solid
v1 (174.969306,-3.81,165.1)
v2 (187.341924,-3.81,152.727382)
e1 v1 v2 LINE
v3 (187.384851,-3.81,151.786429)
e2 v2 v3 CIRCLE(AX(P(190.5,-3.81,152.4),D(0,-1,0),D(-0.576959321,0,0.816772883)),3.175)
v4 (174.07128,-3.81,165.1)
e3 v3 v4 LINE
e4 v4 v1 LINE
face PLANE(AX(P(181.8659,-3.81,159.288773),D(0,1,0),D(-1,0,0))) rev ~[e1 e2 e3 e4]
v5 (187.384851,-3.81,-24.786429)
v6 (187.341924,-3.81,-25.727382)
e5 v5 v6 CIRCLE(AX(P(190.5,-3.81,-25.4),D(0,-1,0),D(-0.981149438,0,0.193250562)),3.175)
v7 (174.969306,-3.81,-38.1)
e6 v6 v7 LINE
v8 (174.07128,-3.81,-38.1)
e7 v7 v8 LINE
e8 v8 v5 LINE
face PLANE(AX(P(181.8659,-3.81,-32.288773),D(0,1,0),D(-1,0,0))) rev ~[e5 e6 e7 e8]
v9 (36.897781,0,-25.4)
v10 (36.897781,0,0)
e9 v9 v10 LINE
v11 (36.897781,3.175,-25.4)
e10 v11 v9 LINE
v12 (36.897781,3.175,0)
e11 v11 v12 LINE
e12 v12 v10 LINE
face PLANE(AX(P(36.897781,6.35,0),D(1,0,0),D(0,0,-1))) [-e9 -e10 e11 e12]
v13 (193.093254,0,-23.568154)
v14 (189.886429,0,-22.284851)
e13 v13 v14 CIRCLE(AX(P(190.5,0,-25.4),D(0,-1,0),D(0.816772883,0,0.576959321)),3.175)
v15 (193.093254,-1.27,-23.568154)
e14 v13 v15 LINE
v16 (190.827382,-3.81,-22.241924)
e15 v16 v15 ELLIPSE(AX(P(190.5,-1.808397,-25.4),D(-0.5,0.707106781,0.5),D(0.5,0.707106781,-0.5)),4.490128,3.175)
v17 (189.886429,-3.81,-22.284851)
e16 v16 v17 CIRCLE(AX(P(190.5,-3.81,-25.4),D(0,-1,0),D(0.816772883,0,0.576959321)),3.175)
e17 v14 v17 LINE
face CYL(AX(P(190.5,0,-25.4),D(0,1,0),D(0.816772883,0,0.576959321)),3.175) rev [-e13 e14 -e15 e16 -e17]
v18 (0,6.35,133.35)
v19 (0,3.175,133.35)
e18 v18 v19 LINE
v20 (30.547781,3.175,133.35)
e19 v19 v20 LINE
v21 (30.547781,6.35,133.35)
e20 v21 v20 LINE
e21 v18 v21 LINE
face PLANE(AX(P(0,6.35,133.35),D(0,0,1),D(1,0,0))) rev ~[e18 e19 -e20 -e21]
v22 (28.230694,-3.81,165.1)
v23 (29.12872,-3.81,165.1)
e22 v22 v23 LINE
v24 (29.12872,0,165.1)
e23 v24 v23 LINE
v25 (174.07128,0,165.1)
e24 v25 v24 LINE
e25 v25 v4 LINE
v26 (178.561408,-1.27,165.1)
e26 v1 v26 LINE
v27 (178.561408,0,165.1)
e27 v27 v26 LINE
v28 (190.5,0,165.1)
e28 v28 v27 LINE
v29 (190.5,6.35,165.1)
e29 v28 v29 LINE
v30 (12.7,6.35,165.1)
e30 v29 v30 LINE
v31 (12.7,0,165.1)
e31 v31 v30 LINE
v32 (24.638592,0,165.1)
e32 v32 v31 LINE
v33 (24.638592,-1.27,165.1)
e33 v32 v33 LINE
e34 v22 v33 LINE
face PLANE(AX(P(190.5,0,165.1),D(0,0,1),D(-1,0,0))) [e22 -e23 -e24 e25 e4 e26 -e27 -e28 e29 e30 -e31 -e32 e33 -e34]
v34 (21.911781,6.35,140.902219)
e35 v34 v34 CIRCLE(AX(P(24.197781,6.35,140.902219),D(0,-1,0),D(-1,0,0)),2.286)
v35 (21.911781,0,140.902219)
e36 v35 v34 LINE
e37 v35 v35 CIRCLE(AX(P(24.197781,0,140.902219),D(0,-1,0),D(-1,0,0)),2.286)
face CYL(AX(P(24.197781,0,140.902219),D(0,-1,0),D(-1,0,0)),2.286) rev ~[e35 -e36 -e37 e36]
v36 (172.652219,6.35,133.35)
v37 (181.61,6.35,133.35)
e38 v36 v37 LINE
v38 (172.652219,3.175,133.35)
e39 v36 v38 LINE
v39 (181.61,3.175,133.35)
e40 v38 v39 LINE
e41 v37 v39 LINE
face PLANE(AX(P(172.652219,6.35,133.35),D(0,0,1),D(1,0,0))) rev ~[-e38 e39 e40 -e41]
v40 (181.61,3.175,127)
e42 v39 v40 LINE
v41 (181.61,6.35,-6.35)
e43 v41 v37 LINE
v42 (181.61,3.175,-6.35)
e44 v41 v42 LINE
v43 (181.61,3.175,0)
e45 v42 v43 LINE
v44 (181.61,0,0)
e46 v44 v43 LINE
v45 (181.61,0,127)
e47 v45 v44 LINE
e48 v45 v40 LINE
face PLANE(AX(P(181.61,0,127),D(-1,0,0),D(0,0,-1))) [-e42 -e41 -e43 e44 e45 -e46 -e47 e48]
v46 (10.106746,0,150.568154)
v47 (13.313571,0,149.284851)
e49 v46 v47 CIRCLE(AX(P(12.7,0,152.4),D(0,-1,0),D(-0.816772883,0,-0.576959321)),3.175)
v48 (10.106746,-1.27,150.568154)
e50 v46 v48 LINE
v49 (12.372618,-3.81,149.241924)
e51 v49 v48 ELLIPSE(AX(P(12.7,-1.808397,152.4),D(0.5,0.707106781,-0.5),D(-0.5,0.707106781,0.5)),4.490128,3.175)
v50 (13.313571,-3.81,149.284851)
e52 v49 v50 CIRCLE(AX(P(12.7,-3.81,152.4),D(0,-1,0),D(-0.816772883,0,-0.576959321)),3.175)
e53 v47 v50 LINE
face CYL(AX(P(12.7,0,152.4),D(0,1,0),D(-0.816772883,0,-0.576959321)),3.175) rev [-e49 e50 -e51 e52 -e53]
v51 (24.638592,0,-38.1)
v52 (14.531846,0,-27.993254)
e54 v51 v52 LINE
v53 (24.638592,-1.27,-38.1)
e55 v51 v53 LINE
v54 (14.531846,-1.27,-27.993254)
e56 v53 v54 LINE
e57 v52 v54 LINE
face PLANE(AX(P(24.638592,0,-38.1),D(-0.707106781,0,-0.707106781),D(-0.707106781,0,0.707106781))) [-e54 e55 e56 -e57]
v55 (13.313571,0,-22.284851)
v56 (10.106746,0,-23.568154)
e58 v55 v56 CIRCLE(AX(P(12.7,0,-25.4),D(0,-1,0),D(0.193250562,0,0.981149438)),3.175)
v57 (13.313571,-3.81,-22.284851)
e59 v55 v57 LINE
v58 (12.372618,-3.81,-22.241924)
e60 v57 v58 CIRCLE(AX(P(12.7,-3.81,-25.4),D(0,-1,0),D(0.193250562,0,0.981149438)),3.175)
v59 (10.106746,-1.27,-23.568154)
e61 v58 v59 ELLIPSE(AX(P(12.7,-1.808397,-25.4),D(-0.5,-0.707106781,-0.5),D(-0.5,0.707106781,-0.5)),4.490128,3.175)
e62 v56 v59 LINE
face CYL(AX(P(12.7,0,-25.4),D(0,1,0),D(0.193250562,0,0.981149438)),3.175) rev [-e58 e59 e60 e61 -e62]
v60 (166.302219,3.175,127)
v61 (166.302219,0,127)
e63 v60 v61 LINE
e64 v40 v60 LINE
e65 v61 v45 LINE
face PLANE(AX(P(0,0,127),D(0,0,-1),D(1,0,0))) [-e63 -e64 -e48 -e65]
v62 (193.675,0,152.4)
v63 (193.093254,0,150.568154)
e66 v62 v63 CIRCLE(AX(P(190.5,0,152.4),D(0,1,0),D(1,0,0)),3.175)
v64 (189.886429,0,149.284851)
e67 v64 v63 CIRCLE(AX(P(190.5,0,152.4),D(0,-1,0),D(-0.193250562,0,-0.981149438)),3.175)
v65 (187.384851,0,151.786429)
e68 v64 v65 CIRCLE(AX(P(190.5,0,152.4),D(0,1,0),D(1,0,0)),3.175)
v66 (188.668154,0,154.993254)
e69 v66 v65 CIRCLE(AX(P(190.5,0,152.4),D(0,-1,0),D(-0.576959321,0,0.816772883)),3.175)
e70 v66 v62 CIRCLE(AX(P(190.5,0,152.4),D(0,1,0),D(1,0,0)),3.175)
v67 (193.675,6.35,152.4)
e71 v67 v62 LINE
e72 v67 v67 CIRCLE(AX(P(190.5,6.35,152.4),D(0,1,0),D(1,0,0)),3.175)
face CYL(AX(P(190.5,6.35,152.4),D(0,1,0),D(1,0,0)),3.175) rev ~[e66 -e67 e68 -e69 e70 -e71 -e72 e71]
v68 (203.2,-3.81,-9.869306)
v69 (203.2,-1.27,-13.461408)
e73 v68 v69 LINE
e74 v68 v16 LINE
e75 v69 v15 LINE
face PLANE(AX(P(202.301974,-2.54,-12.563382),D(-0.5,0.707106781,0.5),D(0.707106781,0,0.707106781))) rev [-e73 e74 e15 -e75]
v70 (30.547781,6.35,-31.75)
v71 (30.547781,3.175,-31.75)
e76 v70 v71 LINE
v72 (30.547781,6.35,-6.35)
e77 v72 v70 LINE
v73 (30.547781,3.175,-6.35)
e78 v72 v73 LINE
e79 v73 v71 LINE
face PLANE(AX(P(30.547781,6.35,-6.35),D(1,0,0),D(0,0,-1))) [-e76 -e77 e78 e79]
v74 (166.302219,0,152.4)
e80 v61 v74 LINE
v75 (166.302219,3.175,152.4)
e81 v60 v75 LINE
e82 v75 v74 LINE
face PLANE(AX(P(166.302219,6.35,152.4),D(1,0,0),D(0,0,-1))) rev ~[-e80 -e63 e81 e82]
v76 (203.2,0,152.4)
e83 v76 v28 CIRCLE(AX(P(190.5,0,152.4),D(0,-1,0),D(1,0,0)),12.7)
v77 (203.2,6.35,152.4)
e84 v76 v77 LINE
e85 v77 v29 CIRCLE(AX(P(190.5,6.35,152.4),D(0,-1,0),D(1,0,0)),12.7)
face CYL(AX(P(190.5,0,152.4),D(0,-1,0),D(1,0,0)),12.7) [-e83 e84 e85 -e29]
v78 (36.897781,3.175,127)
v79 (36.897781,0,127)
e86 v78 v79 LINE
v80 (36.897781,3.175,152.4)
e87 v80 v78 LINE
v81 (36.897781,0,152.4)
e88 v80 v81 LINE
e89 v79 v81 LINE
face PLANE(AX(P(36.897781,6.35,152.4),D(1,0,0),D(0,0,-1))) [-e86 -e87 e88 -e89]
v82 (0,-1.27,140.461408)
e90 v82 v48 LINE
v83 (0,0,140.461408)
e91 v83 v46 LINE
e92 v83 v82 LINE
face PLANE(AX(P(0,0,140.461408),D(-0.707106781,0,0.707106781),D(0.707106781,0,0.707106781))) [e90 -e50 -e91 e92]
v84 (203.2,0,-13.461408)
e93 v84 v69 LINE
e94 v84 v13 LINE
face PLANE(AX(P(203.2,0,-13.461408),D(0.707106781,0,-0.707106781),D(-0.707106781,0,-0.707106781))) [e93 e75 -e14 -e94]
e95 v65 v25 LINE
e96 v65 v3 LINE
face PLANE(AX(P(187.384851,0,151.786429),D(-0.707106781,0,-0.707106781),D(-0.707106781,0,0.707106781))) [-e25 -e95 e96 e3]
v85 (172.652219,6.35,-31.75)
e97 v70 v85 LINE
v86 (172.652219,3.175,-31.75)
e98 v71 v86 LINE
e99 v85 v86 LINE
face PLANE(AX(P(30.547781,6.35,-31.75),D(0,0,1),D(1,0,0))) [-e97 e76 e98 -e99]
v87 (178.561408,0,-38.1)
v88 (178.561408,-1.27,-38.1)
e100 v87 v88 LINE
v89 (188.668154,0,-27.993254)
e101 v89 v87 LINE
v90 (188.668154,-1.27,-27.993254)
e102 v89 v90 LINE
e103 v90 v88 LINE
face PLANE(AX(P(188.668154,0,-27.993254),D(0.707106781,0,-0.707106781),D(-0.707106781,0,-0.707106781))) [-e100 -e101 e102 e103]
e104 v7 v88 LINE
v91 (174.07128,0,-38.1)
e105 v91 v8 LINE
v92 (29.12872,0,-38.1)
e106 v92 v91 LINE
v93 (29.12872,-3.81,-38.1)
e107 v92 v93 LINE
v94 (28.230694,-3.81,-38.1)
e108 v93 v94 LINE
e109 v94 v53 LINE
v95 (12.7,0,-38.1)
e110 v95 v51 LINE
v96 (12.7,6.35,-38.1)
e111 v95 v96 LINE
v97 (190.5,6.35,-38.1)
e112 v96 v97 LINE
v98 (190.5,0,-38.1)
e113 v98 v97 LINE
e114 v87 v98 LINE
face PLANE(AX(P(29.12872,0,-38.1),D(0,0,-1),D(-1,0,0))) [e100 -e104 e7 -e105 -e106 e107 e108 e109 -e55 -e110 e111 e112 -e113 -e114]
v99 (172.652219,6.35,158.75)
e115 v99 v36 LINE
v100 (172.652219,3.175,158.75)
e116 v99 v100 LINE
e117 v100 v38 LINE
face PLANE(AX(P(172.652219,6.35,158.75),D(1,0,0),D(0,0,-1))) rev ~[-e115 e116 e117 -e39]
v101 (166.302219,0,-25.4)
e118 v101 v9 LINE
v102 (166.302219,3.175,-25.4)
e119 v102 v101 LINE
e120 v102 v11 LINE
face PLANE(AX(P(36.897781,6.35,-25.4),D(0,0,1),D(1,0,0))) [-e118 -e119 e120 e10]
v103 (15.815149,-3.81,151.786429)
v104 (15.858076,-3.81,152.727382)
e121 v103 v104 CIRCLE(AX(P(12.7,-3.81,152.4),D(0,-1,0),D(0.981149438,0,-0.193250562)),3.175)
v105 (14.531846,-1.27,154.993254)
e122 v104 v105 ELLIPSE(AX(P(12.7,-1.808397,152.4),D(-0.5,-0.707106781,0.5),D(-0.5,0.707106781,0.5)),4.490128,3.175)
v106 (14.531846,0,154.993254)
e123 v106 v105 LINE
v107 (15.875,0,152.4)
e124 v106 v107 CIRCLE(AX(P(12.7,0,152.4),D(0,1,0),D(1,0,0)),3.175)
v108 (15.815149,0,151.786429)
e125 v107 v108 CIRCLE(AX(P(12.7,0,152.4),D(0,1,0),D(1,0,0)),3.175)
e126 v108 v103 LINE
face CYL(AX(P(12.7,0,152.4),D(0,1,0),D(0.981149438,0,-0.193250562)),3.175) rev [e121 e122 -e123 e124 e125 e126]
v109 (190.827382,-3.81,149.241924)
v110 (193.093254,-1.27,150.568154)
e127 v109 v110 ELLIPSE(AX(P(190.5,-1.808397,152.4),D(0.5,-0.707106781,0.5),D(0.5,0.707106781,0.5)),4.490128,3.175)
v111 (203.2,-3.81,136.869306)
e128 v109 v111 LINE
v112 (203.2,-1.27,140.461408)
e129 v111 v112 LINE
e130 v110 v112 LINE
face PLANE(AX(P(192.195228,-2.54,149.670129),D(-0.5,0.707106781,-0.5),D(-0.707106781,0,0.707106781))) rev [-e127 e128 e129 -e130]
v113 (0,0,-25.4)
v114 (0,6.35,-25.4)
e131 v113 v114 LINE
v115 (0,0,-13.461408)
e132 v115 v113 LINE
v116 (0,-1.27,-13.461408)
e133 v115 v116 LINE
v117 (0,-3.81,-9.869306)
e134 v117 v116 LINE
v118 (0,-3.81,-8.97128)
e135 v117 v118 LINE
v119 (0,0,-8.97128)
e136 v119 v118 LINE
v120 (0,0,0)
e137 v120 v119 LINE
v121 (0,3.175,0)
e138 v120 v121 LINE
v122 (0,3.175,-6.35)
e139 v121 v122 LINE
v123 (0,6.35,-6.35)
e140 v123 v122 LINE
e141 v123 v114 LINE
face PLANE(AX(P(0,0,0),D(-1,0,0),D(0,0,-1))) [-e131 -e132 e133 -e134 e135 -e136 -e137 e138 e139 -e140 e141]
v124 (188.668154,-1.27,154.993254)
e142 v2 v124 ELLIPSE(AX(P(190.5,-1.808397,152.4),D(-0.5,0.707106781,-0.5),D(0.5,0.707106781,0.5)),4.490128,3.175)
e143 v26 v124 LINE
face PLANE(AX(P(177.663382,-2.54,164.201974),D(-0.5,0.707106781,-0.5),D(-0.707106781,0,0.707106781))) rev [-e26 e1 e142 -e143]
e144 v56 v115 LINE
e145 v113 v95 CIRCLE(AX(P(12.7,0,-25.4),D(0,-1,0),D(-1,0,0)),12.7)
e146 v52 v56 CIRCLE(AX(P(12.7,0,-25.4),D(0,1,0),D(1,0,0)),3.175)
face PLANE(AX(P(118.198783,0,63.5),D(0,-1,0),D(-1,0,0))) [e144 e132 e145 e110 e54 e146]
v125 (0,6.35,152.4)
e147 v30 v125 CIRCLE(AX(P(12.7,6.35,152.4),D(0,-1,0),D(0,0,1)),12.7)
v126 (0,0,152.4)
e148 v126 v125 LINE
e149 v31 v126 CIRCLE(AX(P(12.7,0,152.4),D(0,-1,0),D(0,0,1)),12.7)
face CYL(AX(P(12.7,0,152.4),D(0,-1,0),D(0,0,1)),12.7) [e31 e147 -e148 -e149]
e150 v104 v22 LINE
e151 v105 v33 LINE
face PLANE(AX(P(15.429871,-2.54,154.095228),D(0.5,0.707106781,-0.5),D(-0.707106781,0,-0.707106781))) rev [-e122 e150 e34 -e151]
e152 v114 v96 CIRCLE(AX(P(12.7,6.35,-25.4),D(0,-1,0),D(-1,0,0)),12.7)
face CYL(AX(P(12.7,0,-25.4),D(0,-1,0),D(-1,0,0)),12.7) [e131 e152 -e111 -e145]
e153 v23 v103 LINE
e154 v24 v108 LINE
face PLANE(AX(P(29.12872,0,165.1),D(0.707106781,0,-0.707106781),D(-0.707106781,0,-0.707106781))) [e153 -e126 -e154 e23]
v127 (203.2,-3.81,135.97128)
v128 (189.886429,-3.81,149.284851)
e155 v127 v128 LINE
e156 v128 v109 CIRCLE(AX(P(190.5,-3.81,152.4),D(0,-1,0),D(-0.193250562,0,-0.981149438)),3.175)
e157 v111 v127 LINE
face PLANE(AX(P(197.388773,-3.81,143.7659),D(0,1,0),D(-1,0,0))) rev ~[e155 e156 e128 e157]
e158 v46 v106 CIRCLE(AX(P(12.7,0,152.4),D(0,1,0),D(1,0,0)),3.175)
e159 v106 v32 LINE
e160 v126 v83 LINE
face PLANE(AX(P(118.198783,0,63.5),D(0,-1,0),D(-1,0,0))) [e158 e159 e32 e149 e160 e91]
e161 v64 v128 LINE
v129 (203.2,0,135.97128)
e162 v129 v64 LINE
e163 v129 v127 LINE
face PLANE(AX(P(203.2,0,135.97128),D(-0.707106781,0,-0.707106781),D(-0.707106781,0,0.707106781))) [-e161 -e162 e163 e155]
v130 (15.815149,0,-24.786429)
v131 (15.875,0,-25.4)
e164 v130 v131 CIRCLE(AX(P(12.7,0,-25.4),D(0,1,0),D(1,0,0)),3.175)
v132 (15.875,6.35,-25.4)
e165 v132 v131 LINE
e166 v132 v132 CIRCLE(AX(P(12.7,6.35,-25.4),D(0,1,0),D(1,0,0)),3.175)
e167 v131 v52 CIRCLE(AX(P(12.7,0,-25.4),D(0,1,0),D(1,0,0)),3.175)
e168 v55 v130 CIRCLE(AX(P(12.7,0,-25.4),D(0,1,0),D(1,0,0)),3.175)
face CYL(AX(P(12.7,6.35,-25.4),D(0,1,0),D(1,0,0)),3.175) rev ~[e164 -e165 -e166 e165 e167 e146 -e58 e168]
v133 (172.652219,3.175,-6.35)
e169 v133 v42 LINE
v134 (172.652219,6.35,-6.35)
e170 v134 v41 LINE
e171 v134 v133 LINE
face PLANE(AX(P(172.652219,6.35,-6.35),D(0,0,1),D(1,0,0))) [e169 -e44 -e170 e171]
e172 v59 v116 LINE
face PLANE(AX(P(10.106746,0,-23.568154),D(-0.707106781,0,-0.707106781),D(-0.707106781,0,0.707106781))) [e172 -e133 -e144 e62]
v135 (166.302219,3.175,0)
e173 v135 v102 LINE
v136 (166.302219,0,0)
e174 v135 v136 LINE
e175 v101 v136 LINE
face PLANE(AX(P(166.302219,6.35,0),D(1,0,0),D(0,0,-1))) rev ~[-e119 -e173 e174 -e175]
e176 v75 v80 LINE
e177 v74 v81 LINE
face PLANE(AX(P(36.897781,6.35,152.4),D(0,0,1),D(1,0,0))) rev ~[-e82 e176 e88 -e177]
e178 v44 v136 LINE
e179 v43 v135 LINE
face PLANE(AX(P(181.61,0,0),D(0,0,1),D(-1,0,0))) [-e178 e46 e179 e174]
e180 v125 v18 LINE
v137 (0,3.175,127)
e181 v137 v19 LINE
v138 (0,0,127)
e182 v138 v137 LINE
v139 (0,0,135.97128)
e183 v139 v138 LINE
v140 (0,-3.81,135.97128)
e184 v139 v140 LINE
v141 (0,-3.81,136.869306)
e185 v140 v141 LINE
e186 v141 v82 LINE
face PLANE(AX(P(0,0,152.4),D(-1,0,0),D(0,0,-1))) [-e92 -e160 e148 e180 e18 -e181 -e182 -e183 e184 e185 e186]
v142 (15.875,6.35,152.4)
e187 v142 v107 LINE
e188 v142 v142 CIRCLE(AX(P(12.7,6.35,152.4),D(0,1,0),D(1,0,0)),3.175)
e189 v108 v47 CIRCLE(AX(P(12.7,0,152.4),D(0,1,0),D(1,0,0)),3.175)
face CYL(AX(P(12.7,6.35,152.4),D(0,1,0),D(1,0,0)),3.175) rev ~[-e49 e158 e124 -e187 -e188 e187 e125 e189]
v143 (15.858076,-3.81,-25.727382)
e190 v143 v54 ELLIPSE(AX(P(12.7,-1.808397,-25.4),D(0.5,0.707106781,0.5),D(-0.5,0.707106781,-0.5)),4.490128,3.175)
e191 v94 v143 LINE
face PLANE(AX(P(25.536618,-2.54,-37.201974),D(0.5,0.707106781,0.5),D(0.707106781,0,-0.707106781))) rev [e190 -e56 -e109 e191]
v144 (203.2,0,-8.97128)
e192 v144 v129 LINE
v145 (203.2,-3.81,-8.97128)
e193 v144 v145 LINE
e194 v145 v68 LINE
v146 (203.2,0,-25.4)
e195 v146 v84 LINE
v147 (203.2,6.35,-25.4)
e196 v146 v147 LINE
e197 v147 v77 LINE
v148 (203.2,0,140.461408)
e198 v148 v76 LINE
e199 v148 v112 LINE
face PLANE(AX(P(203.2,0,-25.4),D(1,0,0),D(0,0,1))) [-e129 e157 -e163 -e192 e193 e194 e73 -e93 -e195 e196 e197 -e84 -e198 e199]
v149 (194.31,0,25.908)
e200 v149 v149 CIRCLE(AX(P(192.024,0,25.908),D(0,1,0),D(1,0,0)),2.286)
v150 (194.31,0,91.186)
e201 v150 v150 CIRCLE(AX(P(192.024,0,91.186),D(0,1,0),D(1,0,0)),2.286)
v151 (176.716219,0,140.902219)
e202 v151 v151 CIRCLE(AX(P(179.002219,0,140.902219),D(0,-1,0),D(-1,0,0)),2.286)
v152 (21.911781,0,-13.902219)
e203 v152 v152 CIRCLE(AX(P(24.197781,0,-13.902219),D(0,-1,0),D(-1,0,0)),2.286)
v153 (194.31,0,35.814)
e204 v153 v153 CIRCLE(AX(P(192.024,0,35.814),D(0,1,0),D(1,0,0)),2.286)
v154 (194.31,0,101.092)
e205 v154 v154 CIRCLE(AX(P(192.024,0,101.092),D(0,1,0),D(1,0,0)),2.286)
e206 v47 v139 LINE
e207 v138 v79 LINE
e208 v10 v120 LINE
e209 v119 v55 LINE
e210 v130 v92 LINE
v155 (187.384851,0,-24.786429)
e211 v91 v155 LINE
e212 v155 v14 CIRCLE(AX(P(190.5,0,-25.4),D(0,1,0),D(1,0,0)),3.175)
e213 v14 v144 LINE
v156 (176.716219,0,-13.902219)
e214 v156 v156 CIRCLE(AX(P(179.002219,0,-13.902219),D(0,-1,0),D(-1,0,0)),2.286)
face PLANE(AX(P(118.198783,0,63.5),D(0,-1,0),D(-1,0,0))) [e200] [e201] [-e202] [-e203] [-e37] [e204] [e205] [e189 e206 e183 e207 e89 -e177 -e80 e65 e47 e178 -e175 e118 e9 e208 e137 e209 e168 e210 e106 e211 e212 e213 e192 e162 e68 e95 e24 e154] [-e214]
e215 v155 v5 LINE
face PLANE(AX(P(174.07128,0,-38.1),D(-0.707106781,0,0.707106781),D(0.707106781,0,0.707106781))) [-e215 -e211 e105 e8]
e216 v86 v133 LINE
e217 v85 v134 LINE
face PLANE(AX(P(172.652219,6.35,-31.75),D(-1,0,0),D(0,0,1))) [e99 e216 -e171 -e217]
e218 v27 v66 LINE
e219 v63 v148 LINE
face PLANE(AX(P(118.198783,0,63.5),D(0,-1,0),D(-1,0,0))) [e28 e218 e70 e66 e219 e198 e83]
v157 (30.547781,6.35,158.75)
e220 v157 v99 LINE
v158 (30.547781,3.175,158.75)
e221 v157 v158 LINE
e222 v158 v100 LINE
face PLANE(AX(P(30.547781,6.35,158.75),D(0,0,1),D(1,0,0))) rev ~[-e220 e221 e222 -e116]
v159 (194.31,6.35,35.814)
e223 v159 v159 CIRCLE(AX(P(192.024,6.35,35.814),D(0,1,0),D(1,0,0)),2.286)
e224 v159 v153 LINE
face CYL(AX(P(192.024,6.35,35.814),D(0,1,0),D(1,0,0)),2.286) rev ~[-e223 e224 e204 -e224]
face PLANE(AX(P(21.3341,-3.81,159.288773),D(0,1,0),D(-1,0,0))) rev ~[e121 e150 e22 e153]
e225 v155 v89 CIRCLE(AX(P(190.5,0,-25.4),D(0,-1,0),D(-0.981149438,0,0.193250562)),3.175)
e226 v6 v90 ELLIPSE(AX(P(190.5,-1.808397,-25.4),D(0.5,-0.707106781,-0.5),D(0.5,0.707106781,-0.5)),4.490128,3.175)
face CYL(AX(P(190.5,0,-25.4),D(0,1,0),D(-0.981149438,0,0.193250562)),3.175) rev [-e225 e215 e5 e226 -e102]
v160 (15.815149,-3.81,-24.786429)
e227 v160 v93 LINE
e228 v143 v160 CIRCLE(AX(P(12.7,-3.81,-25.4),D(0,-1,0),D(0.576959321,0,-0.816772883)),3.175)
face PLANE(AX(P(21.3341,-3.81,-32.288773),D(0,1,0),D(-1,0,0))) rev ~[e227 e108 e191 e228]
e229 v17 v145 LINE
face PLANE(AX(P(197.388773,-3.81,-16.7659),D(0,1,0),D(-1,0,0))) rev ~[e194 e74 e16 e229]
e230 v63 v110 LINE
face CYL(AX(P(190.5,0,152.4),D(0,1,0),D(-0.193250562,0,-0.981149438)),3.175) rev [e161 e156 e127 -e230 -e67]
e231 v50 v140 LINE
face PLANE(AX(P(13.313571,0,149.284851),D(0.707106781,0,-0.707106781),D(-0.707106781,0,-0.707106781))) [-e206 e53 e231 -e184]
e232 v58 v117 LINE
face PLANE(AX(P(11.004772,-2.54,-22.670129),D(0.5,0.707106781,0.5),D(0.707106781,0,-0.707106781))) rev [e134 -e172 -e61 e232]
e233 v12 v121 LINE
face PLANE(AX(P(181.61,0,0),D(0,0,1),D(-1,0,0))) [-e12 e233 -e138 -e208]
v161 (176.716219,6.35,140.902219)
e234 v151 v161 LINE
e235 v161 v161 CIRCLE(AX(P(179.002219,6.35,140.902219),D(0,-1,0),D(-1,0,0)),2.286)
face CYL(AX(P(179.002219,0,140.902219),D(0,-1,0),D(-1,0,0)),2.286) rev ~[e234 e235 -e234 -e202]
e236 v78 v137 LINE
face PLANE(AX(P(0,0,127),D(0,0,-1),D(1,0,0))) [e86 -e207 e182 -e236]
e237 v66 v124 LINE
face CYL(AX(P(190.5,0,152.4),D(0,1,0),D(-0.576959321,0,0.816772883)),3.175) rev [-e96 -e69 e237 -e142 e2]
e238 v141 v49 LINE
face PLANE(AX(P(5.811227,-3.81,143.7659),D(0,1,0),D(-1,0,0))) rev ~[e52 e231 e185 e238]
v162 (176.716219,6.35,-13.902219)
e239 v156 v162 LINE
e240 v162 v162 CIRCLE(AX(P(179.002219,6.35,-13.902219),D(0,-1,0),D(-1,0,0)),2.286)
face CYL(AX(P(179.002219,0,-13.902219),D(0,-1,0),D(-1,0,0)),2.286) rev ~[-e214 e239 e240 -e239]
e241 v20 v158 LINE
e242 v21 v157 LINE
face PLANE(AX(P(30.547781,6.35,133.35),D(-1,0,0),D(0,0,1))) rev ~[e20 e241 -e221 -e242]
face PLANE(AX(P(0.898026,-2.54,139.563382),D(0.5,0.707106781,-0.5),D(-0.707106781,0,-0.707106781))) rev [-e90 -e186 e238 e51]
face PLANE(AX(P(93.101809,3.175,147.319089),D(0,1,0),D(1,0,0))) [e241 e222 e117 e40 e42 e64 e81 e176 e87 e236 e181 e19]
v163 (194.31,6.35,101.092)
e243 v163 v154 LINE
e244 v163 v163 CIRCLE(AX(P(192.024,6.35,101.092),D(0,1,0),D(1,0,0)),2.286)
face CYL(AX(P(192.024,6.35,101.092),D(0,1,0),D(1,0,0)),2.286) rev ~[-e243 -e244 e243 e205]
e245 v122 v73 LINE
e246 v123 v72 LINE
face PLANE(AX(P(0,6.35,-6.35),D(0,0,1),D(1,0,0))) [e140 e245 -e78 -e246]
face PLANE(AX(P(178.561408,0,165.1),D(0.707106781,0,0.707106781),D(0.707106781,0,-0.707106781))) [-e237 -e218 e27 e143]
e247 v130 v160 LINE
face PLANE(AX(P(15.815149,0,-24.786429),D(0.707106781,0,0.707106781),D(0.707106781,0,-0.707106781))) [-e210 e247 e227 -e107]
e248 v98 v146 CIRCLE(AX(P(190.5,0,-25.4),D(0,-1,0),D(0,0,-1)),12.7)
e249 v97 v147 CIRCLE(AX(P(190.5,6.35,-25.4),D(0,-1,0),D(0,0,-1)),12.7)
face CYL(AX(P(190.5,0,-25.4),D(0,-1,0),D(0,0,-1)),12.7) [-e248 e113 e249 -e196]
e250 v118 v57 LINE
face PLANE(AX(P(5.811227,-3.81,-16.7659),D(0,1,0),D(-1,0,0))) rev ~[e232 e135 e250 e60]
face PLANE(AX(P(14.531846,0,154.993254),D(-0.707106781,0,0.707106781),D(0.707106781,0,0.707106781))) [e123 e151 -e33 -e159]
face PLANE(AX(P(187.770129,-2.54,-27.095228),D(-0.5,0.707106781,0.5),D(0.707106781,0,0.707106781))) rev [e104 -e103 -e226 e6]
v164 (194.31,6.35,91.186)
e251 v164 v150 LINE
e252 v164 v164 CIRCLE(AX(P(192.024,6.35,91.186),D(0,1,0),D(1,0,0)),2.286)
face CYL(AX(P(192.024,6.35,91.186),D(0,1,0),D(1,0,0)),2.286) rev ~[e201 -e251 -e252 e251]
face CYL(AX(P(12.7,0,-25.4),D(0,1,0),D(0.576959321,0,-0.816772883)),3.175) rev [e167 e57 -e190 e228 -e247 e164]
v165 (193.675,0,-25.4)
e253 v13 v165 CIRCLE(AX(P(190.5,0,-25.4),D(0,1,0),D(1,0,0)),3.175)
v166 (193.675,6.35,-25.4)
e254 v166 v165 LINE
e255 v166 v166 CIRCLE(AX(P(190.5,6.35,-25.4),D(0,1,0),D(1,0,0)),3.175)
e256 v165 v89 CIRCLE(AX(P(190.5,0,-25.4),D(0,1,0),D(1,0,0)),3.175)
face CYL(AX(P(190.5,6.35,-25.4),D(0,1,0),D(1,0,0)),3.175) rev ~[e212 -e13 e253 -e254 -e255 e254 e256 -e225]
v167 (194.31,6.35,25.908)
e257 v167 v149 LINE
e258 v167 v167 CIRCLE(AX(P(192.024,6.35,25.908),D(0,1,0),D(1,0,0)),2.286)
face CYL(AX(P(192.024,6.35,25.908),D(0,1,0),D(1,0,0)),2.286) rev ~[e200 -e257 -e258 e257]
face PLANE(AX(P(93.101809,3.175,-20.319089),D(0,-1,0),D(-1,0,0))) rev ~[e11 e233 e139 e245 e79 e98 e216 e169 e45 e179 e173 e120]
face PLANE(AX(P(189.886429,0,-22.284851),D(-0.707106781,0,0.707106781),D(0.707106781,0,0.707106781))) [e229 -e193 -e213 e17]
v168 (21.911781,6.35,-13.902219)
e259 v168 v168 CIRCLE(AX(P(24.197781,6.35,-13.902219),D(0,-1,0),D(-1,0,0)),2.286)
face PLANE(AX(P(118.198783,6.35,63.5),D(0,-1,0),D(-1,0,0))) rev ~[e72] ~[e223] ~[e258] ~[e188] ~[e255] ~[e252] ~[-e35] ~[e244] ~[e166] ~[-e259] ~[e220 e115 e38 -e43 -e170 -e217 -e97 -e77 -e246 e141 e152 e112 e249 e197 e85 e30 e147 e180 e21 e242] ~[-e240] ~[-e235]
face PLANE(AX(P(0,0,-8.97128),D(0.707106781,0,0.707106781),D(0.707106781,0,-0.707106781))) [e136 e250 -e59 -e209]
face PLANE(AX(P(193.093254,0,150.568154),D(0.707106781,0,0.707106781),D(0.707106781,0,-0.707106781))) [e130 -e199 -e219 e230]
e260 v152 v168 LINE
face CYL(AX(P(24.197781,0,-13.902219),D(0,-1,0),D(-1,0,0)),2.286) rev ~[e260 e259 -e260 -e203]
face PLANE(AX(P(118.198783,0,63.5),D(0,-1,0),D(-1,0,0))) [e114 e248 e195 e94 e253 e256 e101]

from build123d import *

# Parameters (mm, degrees)
BOSS_EXTRUDE2_DEPTH = 6.35
SKETCH2_R           = 3.175
CUT_EXTRUDE1_DEPTH  = 7.35
SKETCH7_R           = 2.286
CUT_EXTRUDE3_DEPTH  = 12.7
SKETCH8_R           = 2.286
CUT_EXTRUDE4_DEPTH  = 7.35
SKETCH9_W           = 129.404437756
SKETCH9_H           = 25.4
CUT_EXTRUDE5_DEPTH  = 7.35
CUT_EXTRUDE6_DEPTH  = 3.175
BOSS_EXTRUDE3_DEPTH = 3.81
CHAMFER1_SIZE       = 2.54


with BuildPart() as part:
    # Sketch1 → Boss-Extrude2 (new body)
    with BuildSketch(Plane(origin=(0, 0, 0), x_dir=(1, 0, 0), z_dir=(0, 1, 0))):
        with BuildLine():
            Line((0, 0), (0, 25.4))
            ThreePointArc((0, 25.4), (3.719743879, 34.380256121), (12.7, 38.1))
            Line((12.7, 38.1), (190.5, 38.1))
            ThreePointArc((190.5, 38.1), (199.480256121, 34.380256121), (203.2, 25.4))
            Line((203.2, 25.4), (203.2, -152.4))
            ThreePointArc((203.2, -152.4), (199.480256121, -161.380256121), (190.5, -165.1))
            Line((190.5, -165.1), (12.7, -165.1))
            ThreePointArc((12.7, -165.1), (3.719743879, -161.380256121), (0, -152.4))
            Line((0, -152.4), (0, -127))
            Line((0, -127), (181.61, -127))
            Line((181.61, -127), (181.61, 0))
            Line((181.61, 0), (0, 0))
        make_face()
    extrude(amount=BOSS_EXTRUDE2_DEPTH)

    # Sketch2 → Cut-Extrude1 (cut, through all)
    with BuildSketch(Plane(origin=(0, 6.35, 0), x_dir=(1, 0, 0), z_dir=(0, 1, 0))):
        with Locations((12.7, 25.4)):
            Circle(SKETCH2_R)
        with Locations((190.5, 25.4)):
            Circle(SKETCH2_R)
        with Locations((190.5, -152.4)):
            Circle(SKETCH2_R)
        with Locations((12.7, -152.4)):
            Circle(SKETCH2_R)
    extrude(amount=-CUT_EXTRUDE1_DEPTH, mode=Mode.SUBTRACT)

    # Sketch7 → Cut-Extrude3 (cut)
    with BuildSketch(Plane(origin=(0, 6.35, 0), x_dir=(1, 0, 0), z_dir=(0, 1, 0))):
        with Locations((192.024, -101.092)):
            Circle(SKETCH7_R)
        with Locations((192.024, -91.186)):
            Circle(SKETCH7_R)
        with Locations((192.024, -35.814)):
            Circle(SKETCH7_R)
        with Locations((192.024, -25.908)):
            Circle(SKETCH7_R)
    extrude(amount=-CUT_EXTRUDE3_DEPTH, mode=Mode.SUBTRACT)

    # Sketch8 → Cut-Extrude4 (cut, through all)
    with BuildSketch(Plane(origin=(0, 0, 0), x_dir=(-1, 0, 0), z_dir=(0, -1, 0))):
        with Locations((-24.197781122, 13.902218878)):
            Circle(SKETCH8_R)
        with Locations((-24.197781122, -140.902218878)):
            Circle(SKETCH8_R)
        with Locations((-179.002218878, -140.902218878)):
            Circle(SKETCH8_R)
        with Locations((-179.002218878, 13.902218878)):
            Circle(SKETCH8_R)
    extrude(amount=-CUT_EXTRUDE4_DEPTH, mode=Mode.SUBTRACT)

    # Sketch9 → Cut-Extrude5 (cut, through all)
    with BuildSketch(Plane(origin=(0, 6.35, 0), x_dir=(1, 0, 0), z_dir=(0, 1, 0))):
        with Locations((101.6, 12.7)):
            Rectangle(SKETCH9_W, SKETCH9_H)
        with Locations((101.6, -139.7)):
            Rectangle(SKETCH9_W, SKETCH9_H)
    extrude(amount=-CUT_EXTRUDE5_DEPTH, mode=Mode.SUBTRACT)

    # Sketch10 → Cut-Extrude6 (cut)
    with BuildSketch(Plane(origin=(0, 6.35, 0), x_dir=(1, 0, 0), z_dir=(0, 1, 0))):
        Polygon((0, 6.35), (30.547781122, 6.35), (30.547781122, 31.75), (172.652218878, 31.75), (172.652218878, 6.35), (181.61, 6.35), (181.61, 0), (166.302218878, 0), (166.302218878, 25.4), (36.897781122, 25.4), (36.897781122, 0), (0, 0), align=None)
        Polygon((0, -127), (0, -133.35), (30.547781122, -133.35), (30.547781122, -158.75), (172.652218878, -158.75), (172.652218878, -133.35), (181.61, -133.35), (181.61, -127), (166.302218878, -127), (166.302218878, -152.4), (36.897781122, -152.4), (36.897781122, -127), align=None)
    extrude(amount=-CUT_EXTRUDE6_DEPTH, mode=Mode.SUBTRACT)

    # Sketch11 → Boss-Extrude3 (add)
    with BuildSketch(Plane.XZ):
        with BuildLine():
            Line((174.07128, -38.1), (187.384850533, -24.786429467))
            ThreePointArc((187.384850533, -24.786429467), (187.552268433, -26.579620112), (188.668154157, -27.993253903))
            Line((188.668154157, -27.993253903), (178.561408061, -38.1))
            Line((178.561408061, -38.1), (174.07128, -38.1))
        make_face()
        with BuildLine():
            Line((203.2, -8.97128), (203.2, -13.461408061))
            Line((203.2, -13.461408061), (193.093253903, -23.568154157))
            ThreePointArc((193.093253903, -23.568154157), (191.679620112, -22.452268433), (189.886429467, -22.284850533))
            Line((189.886429467, -22.284850533), (203.2, -8.97128))
        make_face()
        with BuildLine():
            Line((10.106746097, -23.568154157), (0, -13.461408061))
            Line((0, -13.461408061), (0, -8.97128))
            Line((0, -8.97128), (13.313570533, -22.284850533))
            ThreePointArc((13.313570533, -22.284850533), (11.520379888, -22.452268433), (10.106746097, -23.568154157))
        make_face()
        with BuildLine():
            Line((15.815149467, -24.786429467), (29.12872, -38.1))
            Line((29.12872, -38.1), (24.638591939, -38.1))
            Line((24.638591939, -38.1), (14.531845843, -27.993253903))
            ThreePointArc((14.531845843, -27.993253903), (15.647731567, -26.579620112), (15.815149467, -24.786429467))
        make_face()
        with BuildLine():
            Line((14.531845843, 154.993253903), (24.638591939, 165.1))
            Line((24.638591939, 165.1), (29.12872, 165.1))
            Line((29.12872, 165.1), (15.815149467, 151.786429467))
            ThreePointArc((15.815149467, 151.786429467), (15.647731567, 153.579620112), (14.531845843, 154.993253903))
        make_face()
        with BuildLine():
            Line((13.313570533, 149.284850533), (0, 135.97128))
            Line((0, 135.97128), (0, 140.461408061))
            Line((0, 140.461408061), (10.106746097, 150.568154157))
            ThreePointArc((10.106746097, 150.568154157), (11.520379888, 149.452268433), (13.313570533, 149.284850533))
        make_face()
        with BuildLine():
            Line((193.093253903, 150.568154157), (203.2, 140.461408061))
            Line((203.2, 140.461408061), (203.2, 135.97128))
            Line((203.2, 135.97128), (189.886429467, 149.284850533))
            ThreePointArc((189.886429467, 149.284850533), (191.679620112, 149.452268433), (193.093253903, 150.568154157))
        make_face()
        with BuildLine():
            Line((187.384850533, 151.786429467), (174.07128, 165.1))
            Line((174.07128, 165.1), (178.561408061, 165.1))
            Line((178.561408061, 165.1), (188.668154157, 154.993253903))
            ThreePointArc((188.668154157, 154.993253903), (187.552268433, 153.579620112), (187.384850533, 151.786429467))
        make_face()
    extrude(amount=BOSS_EXTRUDE3_DEPTH)

    # Chamfer1
    chamfer1_edges = [part.edges().sort_by_distance(p)[0] for p in [
        (183.614781109, -3.81, -33.046626952),
        (198.146626952, -3.81, -18.514781109),
        (5.053373048, -3.81, -18.514781109),
        (19.585218891, -3.81, -33.046626952),
        (19.585218891, -3.81, 160.046626952),
        (5.053373048, -3.81, 145.514781109),
        (198.146626952, -3.81, 145.514781109),
        (183.614781109, -3.81, 160.046626952),
    ]]
    chamfer(chamfer1_edges, length=CHAMFER1_SIZE)


solid = part.part
